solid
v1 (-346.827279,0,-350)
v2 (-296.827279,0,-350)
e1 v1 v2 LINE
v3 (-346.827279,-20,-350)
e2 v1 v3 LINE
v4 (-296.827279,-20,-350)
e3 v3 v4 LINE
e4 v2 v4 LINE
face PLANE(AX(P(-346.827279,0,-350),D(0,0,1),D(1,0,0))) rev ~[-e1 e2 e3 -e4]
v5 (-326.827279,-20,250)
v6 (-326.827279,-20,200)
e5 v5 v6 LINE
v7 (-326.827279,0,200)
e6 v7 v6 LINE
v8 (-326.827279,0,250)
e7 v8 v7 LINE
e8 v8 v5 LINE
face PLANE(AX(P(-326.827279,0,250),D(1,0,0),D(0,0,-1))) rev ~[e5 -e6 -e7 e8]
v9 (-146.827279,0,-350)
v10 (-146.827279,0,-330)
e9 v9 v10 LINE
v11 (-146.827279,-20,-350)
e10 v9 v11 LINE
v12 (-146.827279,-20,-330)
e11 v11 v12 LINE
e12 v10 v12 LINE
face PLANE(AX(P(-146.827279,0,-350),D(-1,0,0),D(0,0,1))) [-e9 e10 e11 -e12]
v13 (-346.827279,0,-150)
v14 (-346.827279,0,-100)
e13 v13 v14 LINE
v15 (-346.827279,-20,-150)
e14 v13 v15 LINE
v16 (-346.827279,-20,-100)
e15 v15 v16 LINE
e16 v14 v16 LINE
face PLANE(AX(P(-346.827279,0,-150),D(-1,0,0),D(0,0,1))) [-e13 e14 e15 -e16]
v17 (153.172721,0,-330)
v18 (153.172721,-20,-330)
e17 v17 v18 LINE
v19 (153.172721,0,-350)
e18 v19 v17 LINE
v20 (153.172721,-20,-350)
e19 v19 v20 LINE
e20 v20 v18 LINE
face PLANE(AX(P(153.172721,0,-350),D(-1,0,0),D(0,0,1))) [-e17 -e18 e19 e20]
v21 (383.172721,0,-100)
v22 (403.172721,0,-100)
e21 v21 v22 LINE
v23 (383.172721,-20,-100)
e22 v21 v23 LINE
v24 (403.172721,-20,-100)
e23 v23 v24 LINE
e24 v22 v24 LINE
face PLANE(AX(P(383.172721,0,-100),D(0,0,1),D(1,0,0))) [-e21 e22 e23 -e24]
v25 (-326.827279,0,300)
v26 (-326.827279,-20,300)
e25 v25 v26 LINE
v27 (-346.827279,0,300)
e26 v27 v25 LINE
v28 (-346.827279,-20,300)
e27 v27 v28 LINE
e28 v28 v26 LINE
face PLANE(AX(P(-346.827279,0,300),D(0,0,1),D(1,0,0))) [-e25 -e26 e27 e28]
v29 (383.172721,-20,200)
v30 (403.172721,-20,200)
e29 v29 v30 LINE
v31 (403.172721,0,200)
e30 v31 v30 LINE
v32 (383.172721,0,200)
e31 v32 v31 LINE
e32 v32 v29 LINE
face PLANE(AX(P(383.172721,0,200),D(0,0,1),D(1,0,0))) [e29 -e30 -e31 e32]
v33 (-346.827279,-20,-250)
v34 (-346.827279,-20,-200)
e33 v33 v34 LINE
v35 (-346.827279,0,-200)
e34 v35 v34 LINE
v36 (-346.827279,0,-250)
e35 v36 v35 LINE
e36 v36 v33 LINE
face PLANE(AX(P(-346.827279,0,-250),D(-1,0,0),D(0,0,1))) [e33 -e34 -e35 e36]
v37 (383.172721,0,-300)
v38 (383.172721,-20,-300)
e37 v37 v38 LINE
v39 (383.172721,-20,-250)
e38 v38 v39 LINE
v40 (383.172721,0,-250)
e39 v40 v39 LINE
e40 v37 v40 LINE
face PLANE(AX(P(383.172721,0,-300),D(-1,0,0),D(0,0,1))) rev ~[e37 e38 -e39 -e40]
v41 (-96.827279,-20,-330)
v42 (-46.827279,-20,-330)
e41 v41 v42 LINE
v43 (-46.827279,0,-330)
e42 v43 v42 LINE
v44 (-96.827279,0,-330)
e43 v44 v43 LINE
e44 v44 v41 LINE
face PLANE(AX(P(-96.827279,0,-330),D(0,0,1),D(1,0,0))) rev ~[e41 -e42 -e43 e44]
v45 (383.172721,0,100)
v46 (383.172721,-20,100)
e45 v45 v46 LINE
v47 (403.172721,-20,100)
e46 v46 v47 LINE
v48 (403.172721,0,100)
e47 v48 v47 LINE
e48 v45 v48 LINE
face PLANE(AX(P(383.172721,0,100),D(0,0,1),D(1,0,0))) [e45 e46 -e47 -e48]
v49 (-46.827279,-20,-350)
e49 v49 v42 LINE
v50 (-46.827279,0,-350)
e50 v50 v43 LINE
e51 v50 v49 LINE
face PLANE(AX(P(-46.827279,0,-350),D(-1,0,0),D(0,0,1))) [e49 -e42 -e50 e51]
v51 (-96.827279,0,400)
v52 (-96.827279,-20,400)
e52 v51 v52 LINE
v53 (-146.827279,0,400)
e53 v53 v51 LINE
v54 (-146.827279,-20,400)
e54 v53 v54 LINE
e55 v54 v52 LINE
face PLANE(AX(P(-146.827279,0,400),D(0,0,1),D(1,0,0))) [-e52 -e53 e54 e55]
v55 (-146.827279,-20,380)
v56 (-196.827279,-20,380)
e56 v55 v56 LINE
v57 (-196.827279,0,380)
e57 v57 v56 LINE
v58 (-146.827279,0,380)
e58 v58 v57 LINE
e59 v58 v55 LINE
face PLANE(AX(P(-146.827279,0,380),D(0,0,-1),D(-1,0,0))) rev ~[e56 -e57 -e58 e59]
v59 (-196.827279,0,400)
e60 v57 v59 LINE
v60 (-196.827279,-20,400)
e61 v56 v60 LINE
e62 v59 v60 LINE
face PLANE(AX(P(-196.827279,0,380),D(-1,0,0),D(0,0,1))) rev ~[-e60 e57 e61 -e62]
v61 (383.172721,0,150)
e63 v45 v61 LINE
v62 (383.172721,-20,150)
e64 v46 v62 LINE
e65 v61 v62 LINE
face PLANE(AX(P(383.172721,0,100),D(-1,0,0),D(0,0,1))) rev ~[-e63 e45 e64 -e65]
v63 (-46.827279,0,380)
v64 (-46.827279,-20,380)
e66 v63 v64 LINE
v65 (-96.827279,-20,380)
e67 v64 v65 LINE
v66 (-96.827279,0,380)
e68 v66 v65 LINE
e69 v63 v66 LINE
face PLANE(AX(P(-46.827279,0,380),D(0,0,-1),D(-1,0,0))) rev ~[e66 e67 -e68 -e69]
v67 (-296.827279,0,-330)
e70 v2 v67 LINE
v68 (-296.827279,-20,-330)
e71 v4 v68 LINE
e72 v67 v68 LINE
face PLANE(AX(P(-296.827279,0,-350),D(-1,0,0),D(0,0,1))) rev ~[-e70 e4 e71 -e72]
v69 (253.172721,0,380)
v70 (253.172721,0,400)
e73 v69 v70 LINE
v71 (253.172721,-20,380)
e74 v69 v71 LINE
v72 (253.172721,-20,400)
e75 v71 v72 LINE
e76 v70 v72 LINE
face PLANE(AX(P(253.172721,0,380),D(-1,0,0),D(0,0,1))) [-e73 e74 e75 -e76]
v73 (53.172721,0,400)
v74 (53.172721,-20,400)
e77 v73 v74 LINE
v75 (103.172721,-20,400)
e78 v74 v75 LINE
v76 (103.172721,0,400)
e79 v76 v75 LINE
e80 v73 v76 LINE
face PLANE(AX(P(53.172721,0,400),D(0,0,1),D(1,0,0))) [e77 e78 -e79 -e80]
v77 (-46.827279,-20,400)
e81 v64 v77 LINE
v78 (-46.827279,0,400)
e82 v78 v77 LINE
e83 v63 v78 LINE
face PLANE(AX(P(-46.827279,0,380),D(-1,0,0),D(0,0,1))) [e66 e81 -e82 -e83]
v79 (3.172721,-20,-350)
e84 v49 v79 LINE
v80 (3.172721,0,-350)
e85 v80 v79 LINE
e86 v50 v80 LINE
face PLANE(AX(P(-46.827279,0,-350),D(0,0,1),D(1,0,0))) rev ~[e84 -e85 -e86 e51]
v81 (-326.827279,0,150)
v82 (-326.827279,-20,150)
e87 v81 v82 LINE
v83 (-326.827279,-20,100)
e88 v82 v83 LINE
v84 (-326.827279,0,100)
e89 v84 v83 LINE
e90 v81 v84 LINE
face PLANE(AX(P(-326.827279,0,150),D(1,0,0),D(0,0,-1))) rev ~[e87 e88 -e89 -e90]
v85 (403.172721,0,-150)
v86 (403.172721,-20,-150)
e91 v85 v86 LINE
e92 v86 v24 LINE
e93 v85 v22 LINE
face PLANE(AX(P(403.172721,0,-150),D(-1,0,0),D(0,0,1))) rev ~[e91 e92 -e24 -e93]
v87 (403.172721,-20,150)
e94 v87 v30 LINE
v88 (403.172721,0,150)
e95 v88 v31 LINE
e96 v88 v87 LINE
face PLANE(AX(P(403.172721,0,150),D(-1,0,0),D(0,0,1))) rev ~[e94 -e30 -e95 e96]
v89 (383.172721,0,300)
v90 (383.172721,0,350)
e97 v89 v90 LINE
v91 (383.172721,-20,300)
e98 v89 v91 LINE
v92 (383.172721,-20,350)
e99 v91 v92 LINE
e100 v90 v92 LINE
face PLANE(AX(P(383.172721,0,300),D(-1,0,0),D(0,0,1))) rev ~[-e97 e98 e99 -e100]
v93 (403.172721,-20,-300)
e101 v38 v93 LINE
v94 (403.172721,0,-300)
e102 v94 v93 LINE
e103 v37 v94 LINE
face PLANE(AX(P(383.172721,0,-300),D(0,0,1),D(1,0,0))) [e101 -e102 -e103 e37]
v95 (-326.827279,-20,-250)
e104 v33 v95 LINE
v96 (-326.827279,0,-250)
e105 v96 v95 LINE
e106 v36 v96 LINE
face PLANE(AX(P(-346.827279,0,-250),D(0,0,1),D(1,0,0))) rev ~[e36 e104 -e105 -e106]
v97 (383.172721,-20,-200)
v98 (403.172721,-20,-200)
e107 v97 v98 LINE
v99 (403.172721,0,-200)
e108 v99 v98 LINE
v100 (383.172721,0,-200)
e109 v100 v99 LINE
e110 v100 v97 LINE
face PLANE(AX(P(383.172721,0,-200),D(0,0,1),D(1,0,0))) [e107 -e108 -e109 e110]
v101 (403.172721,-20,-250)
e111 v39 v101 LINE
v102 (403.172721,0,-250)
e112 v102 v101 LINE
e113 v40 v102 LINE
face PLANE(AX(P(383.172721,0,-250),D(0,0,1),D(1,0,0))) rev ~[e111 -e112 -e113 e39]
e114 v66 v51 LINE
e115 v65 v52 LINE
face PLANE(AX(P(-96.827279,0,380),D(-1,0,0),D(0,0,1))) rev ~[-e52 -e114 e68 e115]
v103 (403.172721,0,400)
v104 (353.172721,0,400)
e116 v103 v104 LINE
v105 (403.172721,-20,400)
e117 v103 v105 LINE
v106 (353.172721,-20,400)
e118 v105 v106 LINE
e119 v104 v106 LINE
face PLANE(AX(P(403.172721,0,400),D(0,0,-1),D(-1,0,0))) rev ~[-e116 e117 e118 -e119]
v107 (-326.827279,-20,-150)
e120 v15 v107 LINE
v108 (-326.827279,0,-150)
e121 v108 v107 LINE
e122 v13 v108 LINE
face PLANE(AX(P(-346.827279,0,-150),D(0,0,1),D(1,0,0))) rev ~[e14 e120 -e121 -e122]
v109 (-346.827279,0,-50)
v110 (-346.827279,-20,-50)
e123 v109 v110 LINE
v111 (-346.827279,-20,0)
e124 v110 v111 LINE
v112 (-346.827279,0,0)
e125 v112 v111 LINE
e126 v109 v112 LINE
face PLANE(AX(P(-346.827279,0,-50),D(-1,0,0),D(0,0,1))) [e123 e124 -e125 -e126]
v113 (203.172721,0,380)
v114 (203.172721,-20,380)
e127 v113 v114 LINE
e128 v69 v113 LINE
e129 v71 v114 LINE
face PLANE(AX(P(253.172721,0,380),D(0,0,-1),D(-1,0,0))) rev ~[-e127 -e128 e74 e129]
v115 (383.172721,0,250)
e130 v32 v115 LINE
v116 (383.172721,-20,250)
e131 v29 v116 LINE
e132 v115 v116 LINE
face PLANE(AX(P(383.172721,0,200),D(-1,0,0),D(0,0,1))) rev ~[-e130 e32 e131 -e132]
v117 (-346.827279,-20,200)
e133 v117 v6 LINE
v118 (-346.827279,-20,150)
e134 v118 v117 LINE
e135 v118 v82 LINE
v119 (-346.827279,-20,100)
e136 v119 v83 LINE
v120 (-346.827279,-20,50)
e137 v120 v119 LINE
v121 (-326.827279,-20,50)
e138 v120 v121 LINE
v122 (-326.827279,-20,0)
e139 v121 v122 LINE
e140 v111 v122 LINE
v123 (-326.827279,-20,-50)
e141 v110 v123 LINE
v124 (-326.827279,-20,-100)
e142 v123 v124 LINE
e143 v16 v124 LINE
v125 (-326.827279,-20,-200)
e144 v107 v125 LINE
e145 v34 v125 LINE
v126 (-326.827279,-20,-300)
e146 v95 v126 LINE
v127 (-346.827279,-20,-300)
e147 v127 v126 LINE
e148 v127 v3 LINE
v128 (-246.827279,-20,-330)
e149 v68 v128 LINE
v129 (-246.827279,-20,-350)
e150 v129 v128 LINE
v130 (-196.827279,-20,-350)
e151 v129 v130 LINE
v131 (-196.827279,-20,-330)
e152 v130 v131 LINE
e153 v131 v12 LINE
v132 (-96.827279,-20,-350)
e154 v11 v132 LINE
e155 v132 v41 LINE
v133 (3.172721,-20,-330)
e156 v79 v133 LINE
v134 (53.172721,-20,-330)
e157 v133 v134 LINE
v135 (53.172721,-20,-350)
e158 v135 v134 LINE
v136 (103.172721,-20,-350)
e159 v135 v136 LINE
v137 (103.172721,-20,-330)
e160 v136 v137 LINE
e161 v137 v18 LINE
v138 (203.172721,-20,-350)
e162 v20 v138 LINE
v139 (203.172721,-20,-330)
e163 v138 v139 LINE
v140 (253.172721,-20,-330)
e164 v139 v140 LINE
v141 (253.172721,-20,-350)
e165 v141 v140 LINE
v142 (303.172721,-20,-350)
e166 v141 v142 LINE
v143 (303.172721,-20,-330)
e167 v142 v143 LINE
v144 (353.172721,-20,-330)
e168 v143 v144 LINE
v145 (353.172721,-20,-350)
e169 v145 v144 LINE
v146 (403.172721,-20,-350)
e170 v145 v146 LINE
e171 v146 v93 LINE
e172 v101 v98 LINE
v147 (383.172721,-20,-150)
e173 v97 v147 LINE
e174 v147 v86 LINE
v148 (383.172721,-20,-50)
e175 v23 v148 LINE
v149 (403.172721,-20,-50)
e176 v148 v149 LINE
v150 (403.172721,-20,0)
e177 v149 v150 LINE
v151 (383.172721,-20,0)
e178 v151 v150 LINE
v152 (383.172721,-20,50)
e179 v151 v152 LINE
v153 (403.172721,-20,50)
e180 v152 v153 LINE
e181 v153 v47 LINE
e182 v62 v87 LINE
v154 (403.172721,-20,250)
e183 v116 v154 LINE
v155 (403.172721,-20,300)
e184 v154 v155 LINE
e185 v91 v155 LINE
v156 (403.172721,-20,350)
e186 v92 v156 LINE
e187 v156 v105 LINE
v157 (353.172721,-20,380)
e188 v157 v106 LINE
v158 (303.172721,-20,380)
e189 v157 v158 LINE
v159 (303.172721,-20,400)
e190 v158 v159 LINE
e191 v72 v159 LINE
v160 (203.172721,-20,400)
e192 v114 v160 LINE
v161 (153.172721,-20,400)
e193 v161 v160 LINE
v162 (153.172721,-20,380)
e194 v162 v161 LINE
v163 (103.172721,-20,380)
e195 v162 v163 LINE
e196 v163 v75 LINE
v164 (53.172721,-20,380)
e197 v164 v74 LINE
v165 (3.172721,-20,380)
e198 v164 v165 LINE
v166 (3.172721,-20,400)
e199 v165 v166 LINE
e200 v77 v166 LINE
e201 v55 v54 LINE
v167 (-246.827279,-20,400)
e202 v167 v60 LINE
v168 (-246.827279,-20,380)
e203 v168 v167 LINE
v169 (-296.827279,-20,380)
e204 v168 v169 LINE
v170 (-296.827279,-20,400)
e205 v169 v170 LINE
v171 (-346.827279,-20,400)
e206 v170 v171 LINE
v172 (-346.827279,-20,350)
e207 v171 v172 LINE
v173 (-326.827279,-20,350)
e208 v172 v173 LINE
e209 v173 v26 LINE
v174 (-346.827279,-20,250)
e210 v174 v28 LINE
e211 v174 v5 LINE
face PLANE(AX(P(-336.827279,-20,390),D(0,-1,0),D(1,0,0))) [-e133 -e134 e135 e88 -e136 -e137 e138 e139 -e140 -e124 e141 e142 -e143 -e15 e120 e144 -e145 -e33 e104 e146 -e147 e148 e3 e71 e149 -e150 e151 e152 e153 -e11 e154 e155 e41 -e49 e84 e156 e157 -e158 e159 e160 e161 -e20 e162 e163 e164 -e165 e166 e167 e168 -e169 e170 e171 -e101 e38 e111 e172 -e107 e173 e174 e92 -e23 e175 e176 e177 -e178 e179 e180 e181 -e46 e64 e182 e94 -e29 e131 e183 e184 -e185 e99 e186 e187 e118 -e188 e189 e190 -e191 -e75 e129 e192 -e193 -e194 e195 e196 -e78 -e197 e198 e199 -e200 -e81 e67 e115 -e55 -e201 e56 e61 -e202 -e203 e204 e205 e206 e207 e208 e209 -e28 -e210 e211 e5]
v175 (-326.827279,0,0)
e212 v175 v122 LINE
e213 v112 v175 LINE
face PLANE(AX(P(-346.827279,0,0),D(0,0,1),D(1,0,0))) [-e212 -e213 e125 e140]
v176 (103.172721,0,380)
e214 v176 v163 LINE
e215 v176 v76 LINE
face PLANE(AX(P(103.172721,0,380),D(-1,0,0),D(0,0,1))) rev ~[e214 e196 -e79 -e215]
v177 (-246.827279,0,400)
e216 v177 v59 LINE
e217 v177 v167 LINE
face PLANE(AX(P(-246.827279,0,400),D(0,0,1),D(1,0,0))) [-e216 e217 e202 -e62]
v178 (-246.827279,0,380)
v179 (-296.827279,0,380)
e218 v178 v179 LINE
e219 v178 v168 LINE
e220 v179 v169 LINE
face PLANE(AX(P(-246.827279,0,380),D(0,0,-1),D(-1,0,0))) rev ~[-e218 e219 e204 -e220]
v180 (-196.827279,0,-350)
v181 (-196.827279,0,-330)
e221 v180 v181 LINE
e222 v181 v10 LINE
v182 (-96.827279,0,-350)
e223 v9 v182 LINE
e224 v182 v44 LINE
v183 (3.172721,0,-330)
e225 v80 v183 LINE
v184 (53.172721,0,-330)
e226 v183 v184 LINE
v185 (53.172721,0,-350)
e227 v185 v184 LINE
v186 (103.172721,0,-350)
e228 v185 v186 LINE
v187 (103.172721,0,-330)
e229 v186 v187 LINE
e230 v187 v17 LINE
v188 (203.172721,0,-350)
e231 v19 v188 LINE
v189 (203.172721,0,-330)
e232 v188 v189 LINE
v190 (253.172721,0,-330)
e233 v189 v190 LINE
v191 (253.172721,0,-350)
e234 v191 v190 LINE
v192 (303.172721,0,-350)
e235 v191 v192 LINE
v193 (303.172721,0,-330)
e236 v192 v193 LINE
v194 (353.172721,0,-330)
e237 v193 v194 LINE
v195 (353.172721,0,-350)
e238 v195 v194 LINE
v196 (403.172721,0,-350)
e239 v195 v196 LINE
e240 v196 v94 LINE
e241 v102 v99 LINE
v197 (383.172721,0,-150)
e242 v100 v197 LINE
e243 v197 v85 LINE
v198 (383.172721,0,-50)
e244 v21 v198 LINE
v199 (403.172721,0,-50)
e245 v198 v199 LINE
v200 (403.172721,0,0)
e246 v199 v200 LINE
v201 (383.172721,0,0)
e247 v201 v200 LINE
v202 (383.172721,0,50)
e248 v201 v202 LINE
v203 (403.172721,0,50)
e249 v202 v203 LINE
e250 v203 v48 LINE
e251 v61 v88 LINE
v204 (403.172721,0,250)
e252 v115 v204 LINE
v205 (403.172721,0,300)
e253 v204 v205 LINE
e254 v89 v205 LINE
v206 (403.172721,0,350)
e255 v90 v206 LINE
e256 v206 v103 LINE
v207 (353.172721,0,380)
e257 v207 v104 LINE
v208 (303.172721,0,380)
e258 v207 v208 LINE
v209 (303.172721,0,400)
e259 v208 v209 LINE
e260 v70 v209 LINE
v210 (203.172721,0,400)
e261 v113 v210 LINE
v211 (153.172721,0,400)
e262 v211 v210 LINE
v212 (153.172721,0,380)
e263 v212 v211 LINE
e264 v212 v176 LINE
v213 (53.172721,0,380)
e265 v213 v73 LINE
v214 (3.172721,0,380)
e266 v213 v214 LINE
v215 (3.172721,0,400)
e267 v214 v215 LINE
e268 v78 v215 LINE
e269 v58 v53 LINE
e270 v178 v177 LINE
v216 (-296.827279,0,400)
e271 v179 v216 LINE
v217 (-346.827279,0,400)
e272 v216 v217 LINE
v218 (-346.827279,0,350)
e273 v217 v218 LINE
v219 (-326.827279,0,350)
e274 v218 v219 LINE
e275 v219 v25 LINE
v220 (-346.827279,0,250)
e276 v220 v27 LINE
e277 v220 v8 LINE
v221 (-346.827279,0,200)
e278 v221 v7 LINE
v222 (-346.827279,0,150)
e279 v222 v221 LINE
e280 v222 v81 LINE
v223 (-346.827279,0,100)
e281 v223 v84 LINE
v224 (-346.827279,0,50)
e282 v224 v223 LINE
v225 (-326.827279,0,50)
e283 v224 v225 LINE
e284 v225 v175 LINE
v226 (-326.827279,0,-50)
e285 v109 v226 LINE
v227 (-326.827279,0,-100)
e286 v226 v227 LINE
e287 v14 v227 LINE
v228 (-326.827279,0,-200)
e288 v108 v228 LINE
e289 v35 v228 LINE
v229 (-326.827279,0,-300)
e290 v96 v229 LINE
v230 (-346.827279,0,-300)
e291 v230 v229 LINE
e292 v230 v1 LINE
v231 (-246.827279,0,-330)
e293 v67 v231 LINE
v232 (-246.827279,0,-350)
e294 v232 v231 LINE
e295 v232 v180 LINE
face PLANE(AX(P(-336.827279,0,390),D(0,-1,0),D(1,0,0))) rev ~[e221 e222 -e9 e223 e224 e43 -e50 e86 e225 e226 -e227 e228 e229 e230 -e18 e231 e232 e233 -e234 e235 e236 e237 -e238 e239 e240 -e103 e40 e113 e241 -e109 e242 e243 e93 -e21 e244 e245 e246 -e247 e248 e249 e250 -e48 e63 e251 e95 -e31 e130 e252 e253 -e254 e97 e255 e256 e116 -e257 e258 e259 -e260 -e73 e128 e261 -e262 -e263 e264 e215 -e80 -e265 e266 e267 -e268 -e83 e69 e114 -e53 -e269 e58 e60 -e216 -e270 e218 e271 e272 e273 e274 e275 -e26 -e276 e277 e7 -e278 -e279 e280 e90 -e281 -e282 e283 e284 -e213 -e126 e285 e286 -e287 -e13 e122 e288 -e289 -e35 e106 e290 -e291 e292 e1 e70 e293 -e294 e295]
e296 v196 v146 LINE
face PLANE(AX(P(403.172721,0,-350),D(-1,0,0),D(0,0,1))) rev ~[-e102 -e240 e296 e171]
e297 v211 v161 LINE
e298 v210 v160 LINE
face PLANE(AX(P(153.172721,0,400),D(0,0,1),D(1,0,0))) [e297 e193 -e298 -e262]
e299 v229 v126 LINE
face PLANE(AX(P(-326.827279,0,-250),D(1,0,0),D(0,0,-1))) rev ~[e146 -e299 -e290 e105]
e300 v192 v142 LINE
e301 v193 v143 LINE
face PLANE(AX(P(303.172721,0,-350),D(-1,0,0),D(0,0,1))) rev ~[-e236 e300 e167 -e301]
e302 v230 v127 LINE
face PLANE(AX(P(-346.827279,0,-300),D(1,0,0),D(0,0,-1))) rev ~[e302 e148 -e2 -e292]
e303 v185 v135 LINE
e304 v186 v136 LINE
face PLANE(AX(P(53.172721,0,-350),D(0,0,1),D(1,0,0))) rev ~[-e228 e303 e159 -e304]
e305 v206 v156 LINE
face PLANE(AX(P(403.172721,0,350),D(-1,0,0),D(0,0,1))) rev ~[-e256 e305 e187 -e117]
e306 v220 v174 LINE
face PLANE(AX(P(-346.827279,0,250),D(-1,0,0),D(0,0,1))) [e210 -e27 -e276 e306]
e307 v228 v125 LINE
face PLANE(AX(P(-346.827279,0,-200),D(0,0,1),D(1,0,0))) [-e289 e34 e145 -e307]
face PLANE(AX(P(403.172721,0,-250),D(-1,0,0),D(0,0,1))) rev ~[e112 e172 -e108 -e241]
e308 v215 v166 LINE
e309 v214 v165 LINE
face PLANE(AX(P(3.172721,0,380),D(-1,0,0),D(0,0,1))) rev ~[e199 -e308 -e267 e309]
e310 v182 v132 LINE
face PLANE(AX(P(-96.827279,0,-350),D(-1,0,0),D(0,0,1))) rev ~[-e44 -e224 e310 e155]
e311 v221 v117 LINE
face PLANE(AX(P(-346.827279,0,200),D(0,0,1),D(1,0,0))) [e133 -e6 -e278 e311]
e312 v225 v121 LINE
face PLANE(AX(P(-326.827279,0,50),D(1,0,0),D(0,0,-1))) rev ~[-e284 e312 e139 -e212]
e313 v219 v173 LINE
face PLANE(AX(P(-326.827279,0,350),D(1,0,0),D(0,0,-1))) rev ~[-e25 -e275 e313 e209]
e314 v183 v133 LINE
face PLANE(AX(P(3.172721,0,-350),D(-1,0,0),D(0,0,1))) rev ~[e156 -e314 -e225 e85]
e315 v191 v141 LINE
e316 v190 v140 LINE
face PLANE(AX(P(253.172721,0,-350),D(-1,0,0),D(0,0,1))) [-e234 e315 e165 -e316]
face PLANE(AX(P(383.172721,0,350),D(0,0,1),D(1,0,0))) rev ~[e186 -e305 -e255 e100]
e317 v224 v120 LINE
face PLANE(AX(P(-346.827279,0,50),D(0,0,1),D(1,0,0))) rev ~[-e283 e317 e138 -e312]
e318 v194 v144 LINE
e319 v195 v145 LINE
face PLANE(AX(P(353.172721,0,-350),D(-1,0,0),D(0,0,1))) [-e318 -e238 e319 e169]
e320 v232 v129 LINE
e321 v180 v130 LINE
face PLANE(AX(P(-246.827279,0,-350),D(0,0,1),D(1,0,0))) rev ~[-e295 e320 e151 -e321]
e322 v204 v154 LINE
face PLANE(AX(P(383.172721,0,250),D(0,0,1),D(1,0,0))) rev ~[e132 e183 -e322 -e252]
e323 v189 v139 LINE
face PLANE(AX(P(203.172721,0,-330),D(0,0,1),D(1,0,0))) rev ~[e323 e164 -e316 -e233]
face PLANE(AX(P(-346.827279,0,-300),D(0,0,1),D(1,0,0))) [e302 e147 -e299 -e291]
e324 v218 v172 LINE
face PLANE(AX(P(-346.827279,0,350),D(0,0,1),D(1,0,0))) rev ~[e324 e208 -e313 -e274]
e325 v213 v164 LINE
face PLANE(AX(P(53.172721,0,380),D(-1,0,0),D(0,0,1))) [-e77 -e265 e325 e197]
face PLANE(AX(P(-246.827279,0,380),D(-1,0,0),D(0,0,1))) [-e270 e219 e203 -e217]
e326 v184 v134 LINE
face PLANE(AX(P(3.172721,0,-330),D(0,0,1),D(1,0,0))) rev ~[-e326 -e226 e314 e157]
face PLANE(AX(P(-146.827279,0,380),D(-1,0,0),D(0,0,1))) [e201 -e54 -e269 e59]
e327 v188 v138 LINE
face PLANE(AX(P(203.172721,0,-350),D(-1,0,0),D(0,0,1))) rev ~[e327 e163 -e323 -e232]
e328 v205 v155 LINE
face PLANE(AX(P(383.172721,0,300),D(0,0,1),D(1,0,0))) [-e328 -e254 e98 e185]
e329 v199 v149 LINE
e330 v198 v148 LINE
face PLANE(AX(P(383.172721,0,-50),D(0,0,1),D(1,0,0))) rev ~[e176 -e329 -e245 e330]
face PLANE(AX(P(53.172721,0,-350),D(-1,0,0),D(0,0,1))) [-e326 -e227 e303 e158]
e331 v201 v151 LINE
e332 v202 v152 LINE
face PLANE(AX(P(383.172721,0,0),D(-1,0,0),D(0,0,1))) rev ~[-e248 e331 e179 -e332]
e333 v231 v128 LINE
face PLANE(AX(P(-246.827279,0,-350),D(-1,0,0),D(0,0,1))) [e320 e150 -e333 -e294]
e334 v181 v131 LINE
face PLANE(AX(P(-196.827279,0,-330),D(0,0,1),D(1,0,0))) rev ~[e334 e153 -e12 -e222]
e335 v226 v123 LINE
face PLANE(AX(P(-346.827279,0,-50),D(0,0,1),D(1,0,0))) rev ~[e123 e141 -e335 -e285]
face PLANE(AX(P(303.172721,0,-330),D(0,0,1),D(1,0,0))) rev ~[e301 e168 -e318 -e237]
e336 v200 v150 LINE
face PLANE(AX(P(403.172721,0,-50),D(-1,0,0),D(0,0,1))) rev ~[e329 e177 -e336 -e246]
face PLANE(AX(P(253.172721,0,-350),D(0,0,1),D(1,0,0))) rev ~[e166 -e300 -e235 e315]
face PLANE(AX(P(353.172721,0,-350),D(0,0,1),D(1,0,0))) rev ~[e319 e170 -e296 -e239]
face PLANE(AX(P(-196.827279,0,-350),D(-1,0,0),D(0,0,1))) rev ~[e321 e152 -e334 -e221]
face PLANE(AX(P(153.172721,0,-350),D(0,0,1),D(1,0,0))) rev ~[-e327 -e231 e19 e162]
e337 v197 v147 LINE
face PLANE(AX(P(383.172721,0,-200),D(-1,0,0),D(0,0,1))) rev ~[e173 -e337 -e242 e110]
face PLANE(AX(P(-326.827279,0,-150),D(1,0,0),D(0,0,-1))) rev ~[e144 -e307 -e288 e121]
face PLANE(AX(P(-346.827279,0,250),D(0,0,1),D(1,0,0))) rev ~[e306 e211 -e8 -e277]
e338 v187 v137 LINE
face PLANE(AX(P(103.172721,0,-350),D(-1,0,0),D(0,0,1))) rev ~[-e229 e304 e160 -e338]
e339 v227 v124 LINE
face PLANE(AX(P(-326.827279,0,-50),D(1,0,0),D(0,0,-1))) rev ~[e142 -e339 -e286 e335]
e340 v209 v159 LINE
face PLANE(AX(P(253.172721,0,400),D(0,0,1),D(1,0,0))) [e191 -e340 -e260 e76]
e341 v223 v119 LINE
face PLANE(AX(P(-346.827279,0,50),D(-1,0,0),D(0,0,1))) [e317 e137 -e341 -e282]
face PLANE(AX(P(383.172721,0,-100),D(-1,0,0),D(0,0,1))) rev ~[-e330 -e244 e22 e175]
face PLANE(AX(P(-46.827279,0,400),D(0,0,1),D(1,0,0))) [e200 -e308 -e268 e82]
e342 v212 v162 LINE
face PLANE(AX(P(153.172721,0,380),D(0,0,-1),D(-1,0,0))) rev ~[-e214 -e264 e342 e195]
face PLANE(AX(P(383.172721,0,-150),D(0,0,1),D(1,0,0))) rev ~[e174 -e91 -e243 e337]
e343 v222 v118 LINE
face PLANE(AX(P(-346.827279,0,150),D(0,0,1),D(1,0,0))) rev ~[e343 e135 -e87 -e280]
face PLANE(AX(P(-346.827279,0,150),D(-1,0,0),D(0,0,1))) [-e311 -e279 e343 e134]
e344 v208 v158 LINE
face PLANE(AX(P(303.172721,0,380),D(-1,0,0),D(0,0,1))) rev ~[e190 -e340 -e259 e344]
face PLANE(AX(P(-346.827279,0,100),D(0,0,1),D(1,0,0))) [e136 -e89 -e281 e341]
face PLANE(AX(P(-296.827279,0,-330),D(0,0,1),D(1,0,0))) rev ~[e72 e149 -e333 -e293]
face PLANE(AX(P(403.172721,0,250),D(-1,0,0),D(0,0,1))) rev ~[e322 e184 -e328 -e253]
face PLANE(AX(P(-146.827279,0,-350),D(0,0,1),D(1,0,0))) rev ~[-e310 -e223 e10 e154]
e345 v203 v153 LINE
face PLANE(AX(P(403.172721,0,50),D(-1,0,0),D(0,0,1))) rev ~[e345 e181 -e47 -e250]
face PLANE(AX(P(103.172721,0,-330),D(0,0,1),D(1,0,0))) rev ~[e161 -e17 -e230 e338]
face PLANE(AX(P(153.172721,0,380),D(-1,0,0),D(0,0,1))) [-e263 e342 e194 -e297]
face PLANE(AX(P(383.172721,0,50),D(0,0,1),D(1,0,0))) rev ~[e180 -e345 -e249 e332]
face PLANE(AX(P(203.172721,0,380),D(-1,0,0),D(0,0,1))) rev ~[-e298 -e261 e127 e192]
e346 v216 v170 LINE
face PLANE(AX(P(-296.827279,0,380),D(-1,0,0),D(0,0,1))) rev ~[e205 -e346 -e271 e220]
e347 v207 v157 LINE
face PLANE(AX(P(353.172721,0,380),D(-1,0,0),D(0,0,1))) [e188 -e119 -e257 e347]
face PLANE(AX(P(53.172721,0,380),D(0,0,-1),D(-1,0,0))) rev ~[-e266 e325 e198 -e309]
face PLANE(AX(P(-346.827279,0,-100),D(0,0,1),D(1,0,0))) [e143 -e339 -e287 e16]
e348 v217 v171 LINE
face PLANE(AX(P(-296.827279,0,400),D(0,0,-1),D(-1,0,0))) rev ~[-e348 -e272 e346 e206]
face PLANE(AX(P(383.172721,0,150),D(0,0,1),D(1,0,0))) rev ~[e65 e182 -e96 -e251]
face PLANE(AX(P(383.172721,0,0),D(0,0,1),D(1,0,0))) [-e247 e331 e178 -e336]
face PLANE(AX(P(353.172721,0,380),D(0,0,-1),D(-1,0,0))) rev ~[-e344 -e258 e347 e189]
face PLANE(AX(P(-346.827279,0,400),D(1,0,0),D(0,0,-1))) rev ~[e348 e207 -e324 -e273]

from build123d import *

# Parameters (mm, degrees)
F0_W     = 20
F0_H     = 20
F0_H_2   = 30
F0_W_2   = 30
F0_W_3   = 50
F0_H_3   = 50
F1_DEPTH = 20


with BuildPart() as f1:
    # F0 (on Front) → F1 (new body)
    with BuildSketch(Plane.XZ):
        with Locations((-336.827279, 390)):
            Rectangle(F0_W, F0_H)
        with Locations((-336.827279, 365)):
            Rectangle(F0_W, F0_H_2)
        with Locations((-311.827279, 390)):
            Rectangle(F0_W_2, F0_H)
        with Locations((-221.827279, 390)):
            Rectangle(F0_W_3, F0_H)
        with Locations((-121.827279, 390)):
            Rectangle(F0_W_3, F0_H)
        with Locations((-21.827279, 390)):
            Rectangle(F0_W_3, F0_H)
        with Locations((78.172721, 390)):
            Rectangle(F0_W_3, F0_H)
        with Locations((178.172721, 390)):
            Rectangle(F0_W_3, F0_H)
        with Locations((278.172721, 390)):
            Rectangle(F0_W_3, F0_H)
        with Locations((368.172721, 390)):
            Rectangle(F0_W_2, F0_H)
        with Locations((393.172721, 390)):
            Rectangle(F0_W, F0_H)
        with Locations((393.172721, 365)):
            Rectangle(F0_W, F0_H_2)
        with Locations((-336.827279, 275)):
            Rectangle(F0_W, F0_H_3)
        with Locations((-336.827279, 175)):
            Rectangle(F0_W, F0_H_3)
        with Locations((-336.827279, 75)):
            Rectangle(F0_W, F0_H_3)
        with Locations((-336.827279, -25)):
            Rectangle(F0_W, F0_H_3)
        with Locations((-336.827279, -125)):
            Rectangle(F0_W, F0_H_3)
        with Locations((-336.827279, -225)):
            Rectangle(F0_W, F0_H_3)
        with Locations((-336.827279, -315)):
            Rectangle(F0_W, F0_H_2)
        with Locations((-336.827279, -340)):
            Rectangle(F0_W, F0_H)
        with Locations((-311.827279, -340)):
            Rectangle(F0_W_2, F0_H)
        with Locations((-221.827279, -340)):
            Rectangle(F0_W_3, F0_H)
        with Locations((-121.827279, -340)):
            Rectangle(F0_W_3, F0_H)
        with Locations((-21.827279, -340)):
            Rectangle(F0_W_3, F0_H)
        with Locations((78.172721, -340)):
            Rectangle(F0_W_3, F0_H)
        with Locations((178.172721, -340)):
            Rectangle(F0_W_3, F0_H)
        with Locations((278.172721, -340)):
            Rectangle(F0_W_3, F0_H)
        with Locations((368.172721, -340)):
            Rectangle(F0_W_2, F0_H)
        with Locations((393.172721, -340)):
            Rectangle(F0_W, F0_H)
        with Locations((393.172721, -315)):
            Rectangle(F0_W, F0_H_2)
        with Locations((393.172721, -225)):
            Rectangle(F0_W, F0_H_3)
        with Locations((393.172721, -125)):
            Rectangle(F0_W, F0_H_3)
        with Locations((393.172721, -25)):
            Rectangle(F0_W, F0_H_3)
        with Locations((393.172721, 75)):
            Rectangle(F0_W, F0_H_3)
        with Locations((393.172721, 175)):
            Rectangle(F0_W, F0_H_3)
        with Locations((393.172721, 275)):
            Rectangle(F0_W, F0_H_3)
        Polygon((-296.827279, 380), (-326.827279, 380), (-326.827279, 350), (-326.827279, 300), (-326.827279, 250), (-326.827279, 200), (-326.827279, 150), (-326.827279, 100), (-326.827279, 50), (-326.827279, 0), (-326.827279, -50), (-326.827279, -100), (-326.827279, -150), (-326.827279, -200), (-326.827279, -250), (-326.827279, -300), (-326.827279, -330), (-296.827279, -330), (-246.827279, -330), (-196.827279, -330), (-146.827279, -330), (-96.827279, -330), (-46.827279, -330), (3.172721, -330), (53.172721, -330), (103.172721, -330), (153.172721, -330), (203.172721, -330), (253.172721, -330), (303.172721, -330), (353.172721, -330), (383.172721, -330), (383.172721, -300), (383.172721, -250), (383.172721, -200), (383.172721, -150), (383.172721, -100), (383.172721, -50), (383.172721, 0), (383.172721, 50), (383.172721, 100), (383.172721, 150), (383.172721, 200), (383.172721, 250), (383.172721, 300), (383.172721, 350), (383.172721, 380), (353.172721, 380), (303.172721, 380), (253.172721, 380), (203.172721, 380), (153.172721, 380), (103.172721, 380), (53.172721, 380), (3.172721, 380), (-46.827279, 380), (-96.827279, 380), (-146.827279, 380), (-196.827279, 380), (-246.827279, 380), align=None)
    extrude(amount=F1_DEPTH)


solid = f1.part
